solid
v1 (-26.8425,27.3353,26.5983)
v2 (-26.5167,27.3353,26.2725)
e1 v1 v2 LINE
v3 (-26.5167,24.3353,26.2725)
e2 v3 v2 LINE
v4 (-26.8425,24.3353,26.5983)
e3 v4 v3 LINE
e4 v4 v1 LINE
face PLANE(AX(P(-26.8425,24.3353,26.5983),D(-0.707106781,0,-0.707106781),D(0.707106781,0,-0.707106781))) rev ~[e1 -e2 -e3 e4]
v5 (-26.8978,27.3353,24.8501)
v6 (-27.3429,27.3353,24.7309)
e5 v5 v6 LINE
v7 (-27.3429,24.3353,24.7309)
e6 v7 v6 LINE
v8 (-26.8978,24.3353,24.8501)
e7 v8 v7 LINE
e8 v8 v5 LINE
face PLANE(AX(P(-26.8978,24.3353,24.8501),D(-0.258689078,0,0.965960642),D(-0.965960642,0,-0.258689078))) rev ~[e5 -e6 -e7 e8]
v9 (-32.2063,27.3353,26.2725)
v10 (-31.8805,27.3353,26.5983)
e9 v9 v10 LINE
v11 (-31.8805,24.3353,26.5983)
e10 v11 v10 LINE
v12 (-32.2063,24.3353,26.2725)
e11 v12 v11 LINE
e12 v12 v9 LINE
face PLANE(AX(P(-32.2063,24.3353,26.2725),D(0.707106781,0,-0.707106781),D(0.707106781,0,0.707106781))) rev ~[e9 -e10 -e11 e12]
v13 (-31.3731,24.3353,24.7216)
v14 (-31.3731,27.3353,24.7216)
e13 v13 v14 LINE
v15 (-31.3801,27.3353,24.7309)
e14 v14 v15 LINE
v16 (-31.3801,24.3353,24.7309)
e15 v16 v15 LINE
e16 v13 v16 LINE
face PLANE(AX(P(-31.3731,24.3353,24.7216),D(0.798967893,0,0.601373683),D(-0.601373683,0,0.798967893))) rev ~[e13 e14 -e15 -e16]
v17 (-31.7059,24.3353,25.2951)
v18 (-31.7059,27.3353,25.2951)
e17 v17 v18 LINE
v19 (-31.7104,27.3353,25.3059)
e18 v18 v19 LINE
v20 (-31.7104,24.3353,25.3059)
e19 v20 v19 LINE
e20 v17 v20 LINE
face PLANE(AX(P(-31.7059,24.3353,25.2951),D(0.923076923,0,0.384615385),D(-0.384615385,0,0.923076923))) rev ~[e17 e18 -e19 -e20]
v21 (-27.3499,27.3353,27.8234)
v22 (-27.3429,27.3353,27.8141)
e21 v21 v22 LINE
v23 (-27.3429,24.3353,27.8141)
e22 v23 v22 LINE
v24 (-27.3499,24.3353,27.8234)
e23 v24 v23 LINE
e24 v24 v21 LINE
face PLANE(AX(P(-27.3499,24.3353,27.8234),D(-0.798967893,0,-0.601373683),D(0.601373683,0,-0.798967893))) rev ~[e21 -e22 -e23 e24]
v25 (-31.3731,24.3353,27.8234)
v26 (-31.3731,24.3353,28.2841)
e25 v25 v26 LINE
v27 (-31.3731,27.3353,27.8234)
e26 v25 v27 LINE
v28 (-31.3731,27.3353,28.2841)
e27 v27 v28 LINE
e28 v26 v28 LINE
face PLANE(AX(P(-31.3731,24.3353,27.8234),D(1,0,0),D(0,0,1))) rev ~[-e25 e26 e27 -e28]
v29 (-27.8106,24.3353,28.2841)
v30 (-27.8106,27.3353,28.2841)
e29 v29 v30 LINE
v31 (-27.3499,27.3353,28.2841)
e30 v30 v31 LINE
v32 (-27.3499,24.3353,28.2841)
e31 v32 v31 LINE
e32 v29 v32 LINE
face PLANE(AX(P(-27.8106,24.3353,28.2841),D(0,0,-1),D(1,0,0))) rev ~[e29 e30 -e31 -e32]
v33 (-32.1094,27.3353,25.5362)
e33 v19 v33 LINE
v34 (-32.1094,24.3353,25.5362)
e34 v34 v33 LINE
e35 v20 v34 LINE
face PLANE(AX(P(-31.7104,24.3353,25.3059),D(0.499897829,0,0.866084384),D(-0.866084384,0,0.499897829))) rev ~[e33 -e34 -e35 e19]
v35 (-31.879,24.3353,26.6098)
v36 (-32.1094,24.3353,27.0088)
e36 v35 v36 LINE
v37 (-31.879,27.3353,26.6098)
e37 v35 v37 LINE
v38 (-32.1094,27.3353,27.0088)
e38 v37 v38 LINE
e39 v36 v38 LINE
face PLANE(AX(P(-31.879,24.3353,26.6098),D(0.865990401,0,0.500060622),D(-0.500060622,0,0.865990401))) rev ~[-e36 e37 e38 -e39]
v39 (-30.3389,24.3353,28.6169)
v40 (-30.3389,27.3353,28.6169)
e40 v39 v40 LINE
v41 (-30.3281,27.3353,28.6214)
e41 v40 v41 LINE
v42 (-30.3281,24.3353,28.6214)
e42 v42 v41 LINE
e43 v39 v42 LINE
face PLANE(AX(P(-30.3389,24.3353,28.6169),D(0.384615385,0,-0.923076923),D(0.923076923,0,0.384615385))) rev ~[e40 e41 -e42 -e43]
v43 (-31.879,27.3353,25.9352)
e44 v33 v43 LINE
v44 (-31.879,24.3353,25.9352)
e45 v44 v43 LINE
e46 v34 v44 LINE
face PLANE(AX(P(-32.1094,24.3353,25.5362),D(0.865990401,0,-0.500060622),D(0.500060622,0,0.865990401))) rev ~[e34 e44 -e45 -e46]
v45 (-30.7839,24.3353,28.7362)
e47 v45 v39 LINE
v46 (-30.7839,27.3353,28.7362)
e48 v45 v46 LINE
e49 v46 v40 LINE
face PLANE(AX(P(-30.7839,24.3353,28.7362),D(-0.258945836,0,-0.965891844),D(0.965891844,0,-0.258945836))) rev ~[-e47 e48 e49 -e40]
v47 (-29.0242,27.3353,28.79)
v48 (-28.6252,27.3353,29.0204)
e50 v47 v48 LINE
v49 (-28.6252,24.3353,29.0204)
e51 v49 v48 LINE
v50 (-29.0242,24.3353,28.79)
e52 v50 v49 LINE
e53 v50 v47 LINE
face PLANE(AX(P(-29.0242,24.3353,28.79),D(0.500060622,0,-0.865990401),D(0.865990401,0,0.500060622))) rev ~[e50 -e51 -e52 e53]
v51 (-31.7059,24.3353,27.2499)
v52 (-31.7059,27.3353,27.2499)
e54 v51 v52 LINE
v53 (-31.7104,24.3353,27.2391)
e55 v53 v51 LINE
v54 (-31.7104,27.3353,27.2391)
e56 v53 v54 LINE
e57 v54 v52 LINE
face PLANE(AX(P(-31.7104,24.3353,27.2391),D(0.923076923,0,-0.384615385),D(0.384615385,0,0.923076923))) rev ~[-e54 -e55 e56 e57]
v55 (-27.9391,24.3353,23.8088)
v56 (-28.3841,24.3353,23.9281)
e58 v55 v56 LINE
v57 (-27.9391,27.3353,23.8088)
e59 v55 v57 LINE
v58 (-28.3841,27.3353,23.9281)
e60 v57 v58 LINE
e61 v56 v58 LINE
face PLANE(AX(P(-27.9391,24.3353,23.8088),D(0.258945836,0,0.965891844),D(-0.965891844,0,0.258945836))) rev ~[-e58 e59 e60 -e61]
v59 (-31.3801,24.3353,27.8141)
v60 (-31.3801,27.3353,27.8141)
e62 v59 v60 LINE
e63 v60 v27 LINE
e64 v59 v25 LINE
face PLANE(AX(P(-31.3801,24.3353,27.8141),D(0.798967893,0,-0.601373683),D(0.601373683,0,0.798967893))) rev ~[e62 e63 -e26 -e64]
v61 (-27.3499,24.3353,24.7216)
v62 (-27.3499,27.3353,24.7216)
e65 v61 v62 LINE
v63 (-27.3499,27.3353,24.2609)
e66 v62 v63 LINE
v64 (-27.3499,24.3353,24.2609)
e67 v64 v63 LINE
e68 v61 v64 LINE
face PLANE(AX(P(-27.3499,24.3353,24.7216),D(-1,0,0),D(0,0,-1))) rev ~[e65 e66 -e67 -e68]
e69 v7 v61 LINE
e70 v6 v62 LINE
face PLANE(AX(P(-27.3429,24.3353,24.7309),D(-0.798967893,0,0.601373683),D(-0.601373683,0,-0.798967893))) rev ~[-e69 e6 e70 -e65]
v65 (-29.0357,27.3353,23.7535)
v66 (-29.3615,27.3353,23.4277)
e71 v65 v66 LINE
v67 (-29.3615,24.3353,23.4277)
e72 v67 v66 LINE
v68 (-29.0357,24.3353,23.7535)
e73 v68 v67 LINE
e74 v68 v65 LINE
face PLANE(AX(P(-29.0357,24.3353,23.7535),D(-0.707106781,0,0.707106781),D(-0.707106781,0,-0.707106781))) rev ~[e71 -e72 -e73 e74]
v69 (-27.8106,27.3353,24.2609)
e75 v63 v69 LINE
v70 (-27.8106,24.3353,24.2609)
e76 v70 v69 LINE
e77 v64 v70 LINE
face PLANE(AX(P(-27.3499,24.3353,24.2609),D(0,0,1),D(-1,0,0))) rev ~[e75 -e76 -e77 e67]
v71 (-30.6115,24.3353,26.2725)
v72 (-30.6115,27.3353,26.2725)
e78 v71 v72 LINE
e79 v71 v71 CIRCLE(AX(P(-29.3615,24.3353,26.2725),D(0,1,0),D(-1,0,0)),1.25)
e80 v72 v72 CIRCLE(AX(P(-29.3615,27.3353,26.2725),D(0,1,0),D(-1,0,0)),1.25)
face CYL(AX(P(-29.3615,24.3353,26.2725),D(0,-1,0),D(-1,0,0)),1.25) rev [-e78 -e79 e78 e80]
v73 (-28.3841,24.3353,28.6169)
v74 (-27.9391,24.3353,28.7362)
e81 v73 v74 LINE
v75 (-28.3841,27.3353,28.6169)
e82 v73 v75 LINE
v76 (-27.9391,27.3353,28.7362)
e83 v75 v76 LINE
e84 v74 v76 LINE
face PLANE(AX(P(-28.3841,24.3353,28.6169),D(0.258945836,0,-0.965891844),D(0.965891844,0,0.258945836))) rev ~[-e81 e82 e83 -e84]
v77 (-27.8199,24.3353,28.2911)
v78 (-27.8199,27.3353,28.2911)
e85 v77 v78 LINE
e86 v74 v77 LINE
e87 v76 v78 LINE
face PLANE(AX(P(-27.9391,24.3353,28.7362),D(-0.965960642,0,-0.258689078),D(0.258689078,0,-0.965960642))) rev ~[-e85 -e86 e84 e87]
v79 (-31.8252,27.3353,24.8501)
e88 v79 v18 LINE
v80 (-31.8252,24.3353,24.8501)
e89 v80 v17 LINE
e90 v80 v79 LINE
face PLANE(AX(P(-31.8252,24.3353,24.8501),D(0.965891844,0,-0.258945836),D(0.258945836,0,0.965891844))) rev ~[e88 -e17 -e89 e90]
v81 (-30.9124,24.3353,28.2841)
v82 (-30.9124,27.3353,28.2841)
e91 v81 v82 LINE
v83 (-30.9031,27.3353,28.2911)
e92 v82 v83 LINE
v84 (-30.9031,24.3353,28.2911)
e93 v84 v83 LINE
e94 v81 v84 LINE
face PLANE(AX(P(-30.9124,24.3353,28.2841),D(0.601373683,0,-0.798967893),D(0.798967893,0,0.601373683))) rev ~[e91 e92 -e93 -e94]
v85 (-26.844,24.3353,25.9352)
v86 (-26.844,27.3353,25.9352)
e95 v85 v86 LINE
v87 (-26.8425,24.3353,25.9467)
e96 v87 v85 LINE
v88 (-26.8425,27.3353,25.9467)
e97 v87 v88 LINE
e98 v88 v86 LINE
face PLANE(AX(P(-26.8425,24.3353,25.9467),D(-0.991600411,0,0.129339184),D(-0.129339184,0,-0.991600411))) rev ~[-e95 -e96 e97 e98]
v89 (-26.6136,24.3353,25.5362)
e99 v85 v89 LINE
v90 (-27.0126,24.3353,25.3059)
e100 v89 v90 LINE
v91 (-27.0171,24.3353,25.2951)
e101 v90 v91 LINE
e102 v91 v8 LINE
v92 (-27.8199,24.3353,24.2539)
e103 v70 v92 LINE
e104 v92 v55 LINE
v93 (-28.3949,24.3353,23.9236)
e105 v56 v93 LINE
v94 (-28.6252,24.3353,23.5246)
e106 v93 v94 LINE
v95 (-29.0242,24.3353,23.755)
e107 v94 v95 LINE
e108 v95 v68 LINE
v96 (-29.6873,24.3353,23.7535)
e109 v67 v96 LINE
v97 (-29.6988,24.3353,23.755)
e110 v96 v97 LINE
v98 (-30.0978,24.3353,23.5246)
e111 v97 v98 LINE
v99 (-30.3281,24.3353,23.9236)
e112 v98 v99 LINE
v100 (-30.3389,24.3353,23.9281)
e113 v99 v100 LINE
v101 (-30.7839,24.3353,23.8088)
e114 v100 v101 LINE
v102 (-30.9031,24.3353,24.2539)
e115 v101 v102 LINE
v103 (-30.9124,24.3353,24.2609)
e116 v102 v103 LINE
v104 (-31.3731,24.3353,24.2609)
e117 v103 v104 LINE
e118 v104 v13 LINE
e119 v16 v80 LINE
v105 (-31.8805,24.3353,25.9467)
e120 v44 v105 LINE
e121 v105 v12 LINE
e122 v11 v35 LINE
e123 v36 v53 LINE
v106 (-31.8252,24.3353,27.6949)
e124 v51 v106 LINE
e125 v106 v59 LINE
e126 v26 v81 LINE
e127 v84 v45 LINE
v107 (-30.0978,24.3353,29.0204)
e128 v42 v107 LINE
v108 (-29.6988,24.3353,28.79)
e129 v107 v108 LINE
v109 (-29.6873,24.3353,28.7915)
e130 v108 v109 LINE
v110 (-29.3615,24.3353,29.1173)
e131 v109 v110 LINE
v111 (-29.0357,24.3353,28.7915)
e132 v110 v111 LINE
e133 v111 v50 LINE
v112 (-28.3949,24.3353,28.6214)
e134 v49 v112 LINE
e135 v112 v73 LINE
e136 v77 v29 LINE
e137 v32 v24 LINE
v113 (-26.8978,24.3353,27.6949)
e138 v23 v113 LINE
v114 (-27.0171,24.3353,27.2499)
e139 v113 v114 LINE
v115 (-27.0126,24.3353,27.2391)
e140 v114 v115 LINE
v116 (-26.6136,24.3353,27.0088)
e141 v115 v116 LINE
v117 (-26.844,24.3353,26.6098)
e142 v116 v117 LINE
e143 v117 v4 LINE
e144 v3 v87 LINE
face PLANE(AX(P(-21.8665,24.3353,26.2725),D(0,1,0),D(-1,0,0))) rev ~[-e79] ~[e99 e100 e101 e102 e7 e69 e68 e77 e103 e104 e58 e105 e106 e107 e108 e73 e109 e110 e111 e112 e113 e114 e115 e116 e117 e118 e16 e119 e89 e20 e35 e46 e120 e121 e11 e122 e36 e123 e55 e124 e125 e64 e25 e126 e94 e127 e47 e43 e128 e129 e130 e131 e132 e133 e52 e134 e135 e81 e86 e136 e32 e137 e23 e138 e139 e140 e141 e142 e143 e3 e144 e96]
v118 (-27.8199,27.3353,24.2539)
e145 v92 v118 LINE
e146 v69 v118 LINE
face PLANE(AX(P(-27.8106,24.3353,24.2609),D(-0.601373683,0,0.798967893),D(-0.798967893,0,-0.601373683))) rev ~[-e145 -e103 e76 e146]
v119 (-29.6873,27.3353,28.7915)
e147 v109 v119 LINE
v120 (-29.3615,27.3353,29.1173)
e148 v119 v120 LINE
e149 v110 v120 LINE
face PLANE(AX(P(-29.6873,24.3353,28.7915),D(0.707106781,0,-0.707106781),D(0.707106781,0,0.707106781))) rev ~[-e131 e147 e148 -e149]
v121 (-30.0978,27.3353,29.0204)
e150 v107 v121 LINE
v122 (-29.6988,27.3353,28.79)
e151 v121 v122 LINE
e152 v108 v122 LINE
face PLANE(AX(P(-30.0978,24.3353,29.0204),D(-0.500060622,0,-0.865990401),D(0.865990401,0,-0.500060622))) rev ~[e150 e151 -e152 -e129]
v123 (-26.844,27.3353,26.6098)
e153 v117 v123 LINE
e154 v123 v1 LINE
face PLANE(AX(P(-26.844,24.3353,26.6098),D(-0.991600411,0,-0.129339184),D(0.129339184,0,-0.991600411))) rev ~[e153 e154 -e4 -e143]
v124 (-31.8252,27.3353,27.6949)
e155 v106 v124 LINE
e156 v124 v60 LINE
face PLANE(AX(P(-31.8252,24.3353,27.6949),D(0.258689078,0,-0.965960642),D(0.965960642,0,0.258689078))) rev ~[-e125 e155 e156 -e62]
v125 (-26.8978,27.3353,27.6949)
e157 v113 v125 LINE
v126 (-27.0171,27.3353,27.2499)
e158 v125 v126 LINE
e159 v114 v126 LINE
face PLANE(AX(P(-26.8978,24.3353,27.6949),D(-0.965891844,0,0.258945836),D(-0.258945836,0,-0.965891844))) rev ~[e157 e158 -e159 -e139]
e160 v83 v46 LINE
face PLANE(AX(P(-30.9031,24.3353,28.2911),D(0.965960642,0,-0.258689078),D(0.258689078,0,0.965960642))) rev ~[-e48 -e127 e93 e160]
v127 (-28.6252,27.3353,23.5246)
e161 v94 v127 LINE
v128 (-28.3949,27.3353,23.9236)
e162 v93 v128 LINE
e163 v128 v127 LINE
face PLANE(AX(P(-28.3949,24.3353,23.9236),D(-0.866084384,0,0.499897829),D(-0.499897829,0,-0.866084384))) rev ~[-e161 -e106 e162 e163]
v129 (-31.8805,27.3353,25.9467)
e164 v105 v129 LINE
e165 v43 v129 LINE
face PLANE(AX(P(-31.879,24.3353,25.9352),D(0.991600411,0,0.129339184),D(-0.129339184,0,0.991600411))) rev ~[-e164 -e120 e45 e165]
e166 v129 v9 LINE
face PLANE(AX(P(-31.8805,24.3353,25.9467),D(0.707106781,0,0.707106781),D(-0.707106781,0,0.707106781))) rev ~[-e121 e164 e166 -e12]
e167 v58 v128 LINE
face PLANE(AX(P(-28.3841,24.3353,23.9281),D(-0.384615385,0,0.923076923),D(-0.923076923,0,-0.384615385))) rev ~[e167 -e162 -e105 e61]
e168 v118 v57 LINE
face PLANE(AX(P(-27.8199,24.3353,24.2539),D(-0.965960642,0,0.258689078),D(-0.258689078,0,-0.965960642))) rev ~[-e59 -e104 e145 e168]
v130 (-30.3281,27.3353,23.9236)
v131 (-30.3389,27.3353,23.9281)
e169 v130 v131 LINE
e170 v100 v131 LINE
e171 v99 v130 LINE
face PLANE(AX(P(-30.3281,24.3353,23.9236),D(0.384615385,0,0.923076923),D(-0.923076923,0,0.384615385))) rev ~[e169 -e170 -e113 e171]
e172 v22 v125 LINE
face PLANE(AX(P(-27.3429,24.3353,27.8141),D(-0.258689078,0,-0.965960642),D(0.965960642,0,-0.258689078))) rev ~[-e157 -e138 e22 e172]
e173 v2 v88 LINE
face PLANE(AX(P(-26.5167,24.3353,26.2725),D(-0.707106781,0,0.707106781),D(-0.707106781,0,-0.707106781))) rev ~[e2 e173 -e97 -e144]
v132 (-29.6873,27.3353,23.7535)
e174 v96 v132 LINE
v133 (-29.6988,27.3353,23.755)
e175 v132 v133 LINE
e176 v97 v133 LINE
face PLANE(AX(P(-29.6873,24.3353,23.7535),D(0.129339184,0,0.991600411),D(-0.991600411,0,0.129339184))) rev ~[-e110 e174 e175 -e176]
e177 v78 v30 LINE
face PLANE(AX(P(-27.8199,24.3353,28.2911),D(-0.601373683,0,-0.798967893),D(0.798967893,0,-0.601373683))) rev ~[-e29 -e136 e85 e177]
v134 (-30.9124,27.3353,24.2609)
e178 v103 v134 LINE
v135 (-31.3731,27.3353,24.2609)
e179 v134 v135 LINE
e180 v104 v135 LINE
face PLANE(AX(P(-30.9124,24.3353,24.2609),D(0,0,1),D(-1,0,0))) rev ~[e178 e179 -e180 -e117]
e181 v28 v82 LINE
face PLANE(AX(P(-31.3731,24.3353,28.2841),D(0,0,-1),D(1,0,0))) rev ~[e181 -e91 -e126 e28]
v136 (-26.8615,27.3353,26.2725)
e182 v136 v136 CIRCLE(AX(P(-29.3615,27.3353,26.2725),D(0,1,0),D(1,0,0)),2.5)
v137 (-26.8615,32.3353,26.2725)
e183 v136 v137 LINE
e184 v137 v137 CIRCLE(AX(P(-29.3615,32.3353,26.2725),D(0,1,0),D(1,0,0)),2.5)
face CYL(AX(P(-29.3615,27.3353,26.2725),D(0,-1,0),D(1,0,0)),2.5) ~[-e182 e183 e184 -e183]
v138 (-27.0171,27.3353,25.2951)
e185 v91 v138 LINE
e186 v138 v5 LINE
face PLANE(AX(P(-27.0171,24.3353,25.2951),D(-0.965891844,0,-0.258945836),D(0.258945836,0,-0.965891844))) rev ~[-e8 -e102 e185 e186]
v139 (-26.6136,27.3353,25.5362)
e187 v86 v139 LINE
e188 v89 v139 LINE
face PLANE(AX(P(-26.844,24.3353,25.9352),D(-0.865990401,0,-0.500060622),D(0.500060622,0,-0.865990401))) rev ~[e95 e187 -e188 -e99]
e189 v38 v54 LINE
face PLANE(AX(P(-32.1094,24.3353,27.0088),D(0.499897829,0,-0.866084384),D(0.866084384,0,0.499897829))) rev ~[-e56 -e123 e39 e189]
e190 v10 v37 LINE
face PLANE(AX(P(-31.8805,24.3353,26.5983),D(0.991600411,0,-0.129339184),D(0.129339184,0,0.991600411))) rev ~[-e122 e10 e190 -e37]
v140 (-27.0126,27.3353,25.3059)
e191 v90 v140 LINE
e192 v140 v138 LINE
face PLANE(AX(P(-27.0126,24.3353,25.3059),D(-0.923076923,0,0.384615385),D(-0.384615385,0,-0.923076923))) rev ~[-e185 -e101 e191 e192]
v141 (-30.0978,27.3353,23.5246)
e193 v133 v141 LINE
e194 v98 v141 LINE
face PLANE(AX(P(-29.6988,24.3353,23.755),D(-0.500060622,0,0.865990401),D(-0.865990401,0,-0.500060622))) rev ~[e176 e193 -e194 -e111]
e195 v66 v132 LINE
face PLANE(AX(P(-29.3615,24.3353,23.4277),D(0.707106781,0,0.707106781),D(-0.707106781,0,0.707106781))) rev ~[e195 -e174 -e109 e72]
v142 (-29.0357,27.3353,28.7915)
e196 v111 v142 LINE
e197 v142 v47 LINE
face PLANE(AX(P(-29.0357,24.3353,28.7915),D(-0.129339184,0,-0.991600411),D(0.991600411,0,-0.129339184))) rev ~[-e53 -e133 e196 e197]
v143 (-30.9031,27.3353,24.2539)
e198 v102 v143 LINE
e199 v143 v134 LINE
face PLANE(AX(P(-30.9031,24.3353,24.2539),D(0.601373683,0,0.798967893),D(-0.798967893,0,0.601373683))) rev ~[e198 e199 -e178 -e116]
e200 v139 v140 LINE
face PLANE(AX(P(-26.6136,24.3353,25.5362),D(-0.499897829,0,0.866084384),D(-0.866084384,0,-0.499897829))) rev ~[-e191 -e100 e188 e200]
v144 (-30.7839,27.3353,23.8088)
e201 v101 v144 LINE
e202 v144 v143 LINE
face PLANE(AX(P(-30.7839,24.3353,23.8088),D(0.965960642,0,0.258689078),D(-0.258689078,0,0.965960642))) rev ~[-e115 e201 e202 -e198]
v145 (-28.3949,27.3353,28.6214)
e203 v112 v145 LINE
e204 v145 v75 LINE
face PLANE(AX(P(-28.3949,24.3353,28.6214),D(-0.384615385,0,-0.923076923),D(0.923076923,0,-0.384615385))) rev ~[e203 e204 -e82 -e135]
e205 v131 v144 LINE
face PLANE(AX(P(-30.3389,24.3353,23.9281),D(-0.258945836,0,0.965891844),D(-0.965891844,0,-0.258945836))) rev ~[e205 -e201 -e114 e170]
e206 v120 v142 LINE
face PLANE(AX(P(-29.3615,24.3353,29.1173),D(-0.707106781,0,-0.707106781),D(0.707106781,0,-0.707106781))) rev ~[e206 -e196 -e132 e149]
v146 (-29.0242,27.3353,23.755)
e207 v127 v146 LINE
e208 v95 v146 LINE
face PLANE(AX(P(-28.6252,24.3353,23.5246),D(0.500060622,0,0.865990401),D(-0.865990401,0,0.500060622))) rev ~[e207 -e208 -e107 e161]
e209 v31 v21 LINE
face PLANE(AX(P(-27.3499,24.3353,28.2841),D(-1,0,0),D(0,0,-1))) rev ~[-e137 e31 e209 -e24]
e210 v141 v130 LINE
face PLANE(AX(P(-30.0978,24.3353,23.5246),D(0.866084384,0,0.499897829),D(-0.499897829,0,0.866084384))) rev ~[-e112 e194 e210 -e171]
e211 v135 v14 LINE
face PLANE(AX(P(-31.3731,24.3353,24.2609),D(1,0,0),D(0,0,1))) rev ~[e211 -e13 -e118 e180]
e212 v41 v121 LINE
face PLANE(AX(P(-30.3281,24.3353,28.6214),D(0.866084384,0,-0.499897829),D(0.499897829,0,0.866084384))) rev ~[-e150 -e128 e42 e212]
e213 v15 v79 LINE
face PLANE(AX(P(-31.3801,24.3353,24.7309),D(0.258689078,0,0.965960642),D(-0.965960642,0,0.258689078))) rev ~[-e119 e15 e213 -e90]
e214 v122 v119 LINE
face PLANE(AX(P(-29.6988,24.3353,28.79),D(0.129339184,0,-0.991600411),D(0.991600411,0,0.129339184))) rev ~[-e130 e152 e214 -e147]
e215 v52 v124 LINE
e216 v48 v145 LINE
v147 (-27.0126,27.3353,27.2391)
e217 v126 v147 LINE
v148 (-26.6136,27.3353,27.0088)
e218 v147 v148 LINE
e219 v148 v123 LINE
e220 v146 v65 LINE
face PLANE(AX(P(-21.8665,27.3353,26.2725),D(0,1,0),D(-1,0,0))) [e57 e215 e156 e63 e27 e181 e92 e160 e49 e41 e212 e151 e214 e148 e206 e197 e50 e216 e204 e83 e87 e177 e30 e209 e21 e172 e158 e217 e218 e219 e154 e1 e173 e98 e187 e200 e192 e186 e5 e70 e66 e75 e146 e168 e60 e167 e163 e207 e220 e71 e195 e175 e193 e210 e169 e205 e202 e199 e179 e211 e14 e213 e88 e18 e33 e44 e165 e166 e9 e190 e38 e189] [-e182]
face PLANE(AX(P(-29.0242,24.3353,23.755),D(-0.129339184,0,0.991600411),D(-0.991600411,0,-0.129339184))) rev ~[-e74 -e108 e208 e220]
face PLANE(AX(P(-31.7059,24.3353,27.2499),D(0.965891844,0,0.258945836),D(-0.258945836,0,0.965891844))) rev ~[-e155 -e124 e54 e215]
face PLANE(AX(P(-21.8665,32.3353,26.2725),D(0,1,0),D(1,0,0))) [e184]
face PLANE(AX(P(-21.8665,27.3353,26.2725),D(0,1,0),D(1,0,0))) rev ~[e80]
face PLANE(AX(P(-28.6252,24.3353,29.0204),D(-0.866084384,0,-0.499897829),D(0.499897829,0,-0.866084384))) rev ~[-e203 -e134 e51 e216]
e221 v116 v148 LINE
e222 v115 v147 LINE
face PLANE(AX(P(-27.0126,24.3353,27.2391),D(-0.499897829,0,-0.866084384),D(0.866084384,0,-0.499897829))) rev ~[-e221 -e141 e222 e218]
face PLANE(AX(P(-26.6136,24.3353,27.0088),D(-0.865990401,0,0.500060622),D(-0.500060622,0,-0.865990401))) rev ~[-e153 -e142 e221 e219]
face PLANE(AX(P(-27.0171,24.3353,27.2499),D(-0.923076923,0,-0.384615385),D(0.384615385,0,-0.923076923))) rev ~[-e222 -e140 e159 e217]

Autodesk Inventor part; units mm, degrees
ref_plane "YZ Plane" through (0, 0, 0) normal (1, 0, 0) x (0, 1, 0)
ref_plane "XZ Plane" through (0, 0, 0) normal (0, 1, 0) x (-1, 0, 0)
ref_plane "XY Plane" through (0, 0, 0) normal (0, 0, 1) x (1, 0, 0)
ref_plane "Work Plane6" through (-21.8665, 24.3353, 26.2725) normal (0, 1, 0) x (-1, 0, 0)
sketch "Sketch1" plane through (-21.8665, 24.3353, 26.2725) normal (0, 1, 0) x (-1, 0, 0)
  line L0 (7.495, -2.8448) -> (7.8208, -2.519) projected
  line L1 (7.8208, -2.519) -> (7.8323, -2.5175) projected
  line L2 (7.8323, -2.5175) -> (8.2313, -2.7479) projected
  line L3 (8.2313, -2.7479) -> (8.4616, -2.3489) projected
  line L4 (8.4616, -2.3489) -> (8.4724, -2.3444) projected
  line L5 (8.4724, -2.3444) -> (8.9174, -2.4637) projected
  line L6 (8.9174, -2.4637) -> (9.0366, -2.0186) projected
  line L7 (9.0366, -2.0186) -> (9.0459, -2.0116) projected
  line L8 (9.0459, -2.0116) -> (9.5066, -2.0116) projected
  line L9 (9.5066, -2.0116) -> (9.5066, -1.5509) projected
  line L10 (9.5066, -1.5509) -> (9.5136, -1.5416) projected
  line L11 (9.5136, -1.5416) -> (9.9587, -1.4224) projected
  line L12 (9.9587, -1.4224) -> (9.8394, -0.9774) projected
  line L13 (9.8394, -0.9774) -> (9.8439, -0.9666) projected
  line L14 (9.8439, -0.9666) -> (10.2429, -0.7363) projected
  line L15 (10.2429, -0.7363) -> (10.0125, -0.3373) projected
  line L16 (10.0125, -0.3373) -> (10.014, -0.3258) projected
  line L17 (10.014, -0.3258) -> (10.3398, 0) projected
  line L18 (10.3398, 0) -> (10.014, 0.3258) projected
  line L19 (10.014, 0.3258) -> (10.0125, 0.3373) projected
  line L20 (10.0125, 0.3373) -> (10.2429, 0.7363) projected
  line L21 (10.2429, 0.7363) -> (9.8439, 0.9666) projected
  line L22 (9.8439, 0.9666) -> (9.8394, 0.9774) projected
  line L23 (9.8394, 0.9774) -> (9.9587, 1.4224) projected
  line L24 (9.9587, 1.4224) -> (9.5136, 1.5416) projected
  line L25 (9.5136, 1.5416) -> (9.5066, 1.5509) projected
  line L26 (9.5066, 1.5509) -> (9.5066, 2.0116) projected
  line L27 (9.5066, 2.0116) -> (9.0459, 2.0116) projected
  line L28 (9.0459, 2.0116) -> (9.0366, 2.0186) projected
  line L29 (9.0366, 2.0186) -> (8.9174, 2.4637) projected
  line L30 (8.9174, 2.4637) -> (8.4724, 2.3444) projected
  line L31 (8.4724, 2.3444) -> (8.4616, 2.3489) projected
  line L32 (8.4616, 2.3489) -> (8.2313, 2.7479) projected
  line L33 (8.2313, 2.7479) -> (7.8323, 2.5175) projected
  line L34 (7.8323, 2.5175) -> (7.8208, 2.519) projected
  line L35 (7.8208, 2.519) -> (7.495, 2.8448) projected
  line L36 (7.495, 2.8448) -> (7.1692, 2.519) projected
  line L37 (7.1692, 2.519) -> (7.1577, 2.5175) projected
  line L38 (7.1577, 2.5175) -> (6.7587, 2.7479) projected
  line L39 (6.7587, 2.7479) -> (6.5284, 2.3489) projected
  line L40 (6.5284, 2.3489) -> (6.5176, 2.3444) projected
  line L41 (6.5176, 2.3444) -> (6.0726, 2.4637) projected
  line L42 (6.0726, 2.4637) -> (5.9534, 2.0186) projected
  line L43 (5.9534, 2.0186) -> (5.9441, 2.0116) projected
  line L44 (5.9441, 2.0116) -> (5.4834, 2.0116) projected
  line L45 (5.4834, 2.0116) -> (5.4834, 1.5509) projected
  line L46 (5.4834, 1.5509) -> (5.4764, 1.5416) projected
  line L47 (5.4764, 1.5416) -> (5.0313, 1.4224) projected
  line L48 (5.0313, 1.4224) -> (5.1506, 0.9774) projected
  line L49 (5.1506, 0.9774) -> (5.1461, 0.9666) projected
  line L50 (5.1461, 0.9666) -> (4.7471, 0.7363) projected
  line L51 (4.7471, 0.7363) -> (4.9775, 0.3373) projected
  line L52 (4.9775, 0.3373) -> (4.976, 0.3258) projected
  line L53 (4.976, 0.3258) -> (4.6502, 0) projected
  line L54 (4.6502, 0) -> (4.976, -0.3258) projected
  line L55 (4.976, -0.3258) -> (4.9775, -0.3373) projected
  line L56 (4.9775, -0.3373) -> (4.7471, -0.7363) projected
  line L57 (4.7471, -0.7363) -> (5.1461, -0.9666) projected
  line L58 (5.1461, -0.9666) -> (5.1506, -0.9774) projected
  line L59 (5.1506, -0.9774) -> (5.0313, -1.4224) projected
  line L60 (5.0313, -1.4224) -> (5.4764, -1.5416) projected
  line L61 (5.4764, -1.5416) -> (5.4834, -1.5509) projected
  line L62 (5.4834, -1.5509) -> (5.4834, -2.0116) projected
  line L63 (5.4834, -2.0116) -> (5.9441, -2.0116) projected
  line L64 (5.9441, -2.0116) -> (5.9534, -2.0186) projected
  line L65 (5.9534, -2.0186) -> (6.0726, -2.4637) projected
  line L66 (6.0726, -2.4637) -> (6.5176, -2.3444) projected
  line L67 (6.5176, -2.3444) -> (6.5284, -2.3489) projected
  line L68 (6.5284, -2.3489) -> (6.7587, -2.7479) projected
  line L69 (6.7587, -2.7479) -> (7.1577, -2.5175) projected
  line L70 (7.1577, -2.5175) -> (7.1692, -2.519) projected
  line L71 (7.1692, -2.519) -> (7.495, -2.8448) projected
  circle A0 centre (7.495, 0) radius 1.25 projected
  point P0 (-21.8665, -26.2725)
extrude "Extrusion1" add sketch "Sketch1" along normal blind 3
ref_plane "Work Plane5" through (-21.8665, 27.3353, 26.2725) normal (0, 1, 0) x (1, 0, 0)
sketch "Sketch4" plane through (-21.8665, 27.3353, 26.2725) normal (0, 1, 0) x (1, 0, 0)
  circle A0 centre (-7.495, 0) radius 1.25 construction
  circle A1 centre (-7.495, 0) radius 2.5
  point P0 (21.8665, 26.2725)
extrude "Extrusion2" add sketch "Sketch4" along normal blind 5
properties part number "servo_spine" material "Brass, Soft Yellow"
